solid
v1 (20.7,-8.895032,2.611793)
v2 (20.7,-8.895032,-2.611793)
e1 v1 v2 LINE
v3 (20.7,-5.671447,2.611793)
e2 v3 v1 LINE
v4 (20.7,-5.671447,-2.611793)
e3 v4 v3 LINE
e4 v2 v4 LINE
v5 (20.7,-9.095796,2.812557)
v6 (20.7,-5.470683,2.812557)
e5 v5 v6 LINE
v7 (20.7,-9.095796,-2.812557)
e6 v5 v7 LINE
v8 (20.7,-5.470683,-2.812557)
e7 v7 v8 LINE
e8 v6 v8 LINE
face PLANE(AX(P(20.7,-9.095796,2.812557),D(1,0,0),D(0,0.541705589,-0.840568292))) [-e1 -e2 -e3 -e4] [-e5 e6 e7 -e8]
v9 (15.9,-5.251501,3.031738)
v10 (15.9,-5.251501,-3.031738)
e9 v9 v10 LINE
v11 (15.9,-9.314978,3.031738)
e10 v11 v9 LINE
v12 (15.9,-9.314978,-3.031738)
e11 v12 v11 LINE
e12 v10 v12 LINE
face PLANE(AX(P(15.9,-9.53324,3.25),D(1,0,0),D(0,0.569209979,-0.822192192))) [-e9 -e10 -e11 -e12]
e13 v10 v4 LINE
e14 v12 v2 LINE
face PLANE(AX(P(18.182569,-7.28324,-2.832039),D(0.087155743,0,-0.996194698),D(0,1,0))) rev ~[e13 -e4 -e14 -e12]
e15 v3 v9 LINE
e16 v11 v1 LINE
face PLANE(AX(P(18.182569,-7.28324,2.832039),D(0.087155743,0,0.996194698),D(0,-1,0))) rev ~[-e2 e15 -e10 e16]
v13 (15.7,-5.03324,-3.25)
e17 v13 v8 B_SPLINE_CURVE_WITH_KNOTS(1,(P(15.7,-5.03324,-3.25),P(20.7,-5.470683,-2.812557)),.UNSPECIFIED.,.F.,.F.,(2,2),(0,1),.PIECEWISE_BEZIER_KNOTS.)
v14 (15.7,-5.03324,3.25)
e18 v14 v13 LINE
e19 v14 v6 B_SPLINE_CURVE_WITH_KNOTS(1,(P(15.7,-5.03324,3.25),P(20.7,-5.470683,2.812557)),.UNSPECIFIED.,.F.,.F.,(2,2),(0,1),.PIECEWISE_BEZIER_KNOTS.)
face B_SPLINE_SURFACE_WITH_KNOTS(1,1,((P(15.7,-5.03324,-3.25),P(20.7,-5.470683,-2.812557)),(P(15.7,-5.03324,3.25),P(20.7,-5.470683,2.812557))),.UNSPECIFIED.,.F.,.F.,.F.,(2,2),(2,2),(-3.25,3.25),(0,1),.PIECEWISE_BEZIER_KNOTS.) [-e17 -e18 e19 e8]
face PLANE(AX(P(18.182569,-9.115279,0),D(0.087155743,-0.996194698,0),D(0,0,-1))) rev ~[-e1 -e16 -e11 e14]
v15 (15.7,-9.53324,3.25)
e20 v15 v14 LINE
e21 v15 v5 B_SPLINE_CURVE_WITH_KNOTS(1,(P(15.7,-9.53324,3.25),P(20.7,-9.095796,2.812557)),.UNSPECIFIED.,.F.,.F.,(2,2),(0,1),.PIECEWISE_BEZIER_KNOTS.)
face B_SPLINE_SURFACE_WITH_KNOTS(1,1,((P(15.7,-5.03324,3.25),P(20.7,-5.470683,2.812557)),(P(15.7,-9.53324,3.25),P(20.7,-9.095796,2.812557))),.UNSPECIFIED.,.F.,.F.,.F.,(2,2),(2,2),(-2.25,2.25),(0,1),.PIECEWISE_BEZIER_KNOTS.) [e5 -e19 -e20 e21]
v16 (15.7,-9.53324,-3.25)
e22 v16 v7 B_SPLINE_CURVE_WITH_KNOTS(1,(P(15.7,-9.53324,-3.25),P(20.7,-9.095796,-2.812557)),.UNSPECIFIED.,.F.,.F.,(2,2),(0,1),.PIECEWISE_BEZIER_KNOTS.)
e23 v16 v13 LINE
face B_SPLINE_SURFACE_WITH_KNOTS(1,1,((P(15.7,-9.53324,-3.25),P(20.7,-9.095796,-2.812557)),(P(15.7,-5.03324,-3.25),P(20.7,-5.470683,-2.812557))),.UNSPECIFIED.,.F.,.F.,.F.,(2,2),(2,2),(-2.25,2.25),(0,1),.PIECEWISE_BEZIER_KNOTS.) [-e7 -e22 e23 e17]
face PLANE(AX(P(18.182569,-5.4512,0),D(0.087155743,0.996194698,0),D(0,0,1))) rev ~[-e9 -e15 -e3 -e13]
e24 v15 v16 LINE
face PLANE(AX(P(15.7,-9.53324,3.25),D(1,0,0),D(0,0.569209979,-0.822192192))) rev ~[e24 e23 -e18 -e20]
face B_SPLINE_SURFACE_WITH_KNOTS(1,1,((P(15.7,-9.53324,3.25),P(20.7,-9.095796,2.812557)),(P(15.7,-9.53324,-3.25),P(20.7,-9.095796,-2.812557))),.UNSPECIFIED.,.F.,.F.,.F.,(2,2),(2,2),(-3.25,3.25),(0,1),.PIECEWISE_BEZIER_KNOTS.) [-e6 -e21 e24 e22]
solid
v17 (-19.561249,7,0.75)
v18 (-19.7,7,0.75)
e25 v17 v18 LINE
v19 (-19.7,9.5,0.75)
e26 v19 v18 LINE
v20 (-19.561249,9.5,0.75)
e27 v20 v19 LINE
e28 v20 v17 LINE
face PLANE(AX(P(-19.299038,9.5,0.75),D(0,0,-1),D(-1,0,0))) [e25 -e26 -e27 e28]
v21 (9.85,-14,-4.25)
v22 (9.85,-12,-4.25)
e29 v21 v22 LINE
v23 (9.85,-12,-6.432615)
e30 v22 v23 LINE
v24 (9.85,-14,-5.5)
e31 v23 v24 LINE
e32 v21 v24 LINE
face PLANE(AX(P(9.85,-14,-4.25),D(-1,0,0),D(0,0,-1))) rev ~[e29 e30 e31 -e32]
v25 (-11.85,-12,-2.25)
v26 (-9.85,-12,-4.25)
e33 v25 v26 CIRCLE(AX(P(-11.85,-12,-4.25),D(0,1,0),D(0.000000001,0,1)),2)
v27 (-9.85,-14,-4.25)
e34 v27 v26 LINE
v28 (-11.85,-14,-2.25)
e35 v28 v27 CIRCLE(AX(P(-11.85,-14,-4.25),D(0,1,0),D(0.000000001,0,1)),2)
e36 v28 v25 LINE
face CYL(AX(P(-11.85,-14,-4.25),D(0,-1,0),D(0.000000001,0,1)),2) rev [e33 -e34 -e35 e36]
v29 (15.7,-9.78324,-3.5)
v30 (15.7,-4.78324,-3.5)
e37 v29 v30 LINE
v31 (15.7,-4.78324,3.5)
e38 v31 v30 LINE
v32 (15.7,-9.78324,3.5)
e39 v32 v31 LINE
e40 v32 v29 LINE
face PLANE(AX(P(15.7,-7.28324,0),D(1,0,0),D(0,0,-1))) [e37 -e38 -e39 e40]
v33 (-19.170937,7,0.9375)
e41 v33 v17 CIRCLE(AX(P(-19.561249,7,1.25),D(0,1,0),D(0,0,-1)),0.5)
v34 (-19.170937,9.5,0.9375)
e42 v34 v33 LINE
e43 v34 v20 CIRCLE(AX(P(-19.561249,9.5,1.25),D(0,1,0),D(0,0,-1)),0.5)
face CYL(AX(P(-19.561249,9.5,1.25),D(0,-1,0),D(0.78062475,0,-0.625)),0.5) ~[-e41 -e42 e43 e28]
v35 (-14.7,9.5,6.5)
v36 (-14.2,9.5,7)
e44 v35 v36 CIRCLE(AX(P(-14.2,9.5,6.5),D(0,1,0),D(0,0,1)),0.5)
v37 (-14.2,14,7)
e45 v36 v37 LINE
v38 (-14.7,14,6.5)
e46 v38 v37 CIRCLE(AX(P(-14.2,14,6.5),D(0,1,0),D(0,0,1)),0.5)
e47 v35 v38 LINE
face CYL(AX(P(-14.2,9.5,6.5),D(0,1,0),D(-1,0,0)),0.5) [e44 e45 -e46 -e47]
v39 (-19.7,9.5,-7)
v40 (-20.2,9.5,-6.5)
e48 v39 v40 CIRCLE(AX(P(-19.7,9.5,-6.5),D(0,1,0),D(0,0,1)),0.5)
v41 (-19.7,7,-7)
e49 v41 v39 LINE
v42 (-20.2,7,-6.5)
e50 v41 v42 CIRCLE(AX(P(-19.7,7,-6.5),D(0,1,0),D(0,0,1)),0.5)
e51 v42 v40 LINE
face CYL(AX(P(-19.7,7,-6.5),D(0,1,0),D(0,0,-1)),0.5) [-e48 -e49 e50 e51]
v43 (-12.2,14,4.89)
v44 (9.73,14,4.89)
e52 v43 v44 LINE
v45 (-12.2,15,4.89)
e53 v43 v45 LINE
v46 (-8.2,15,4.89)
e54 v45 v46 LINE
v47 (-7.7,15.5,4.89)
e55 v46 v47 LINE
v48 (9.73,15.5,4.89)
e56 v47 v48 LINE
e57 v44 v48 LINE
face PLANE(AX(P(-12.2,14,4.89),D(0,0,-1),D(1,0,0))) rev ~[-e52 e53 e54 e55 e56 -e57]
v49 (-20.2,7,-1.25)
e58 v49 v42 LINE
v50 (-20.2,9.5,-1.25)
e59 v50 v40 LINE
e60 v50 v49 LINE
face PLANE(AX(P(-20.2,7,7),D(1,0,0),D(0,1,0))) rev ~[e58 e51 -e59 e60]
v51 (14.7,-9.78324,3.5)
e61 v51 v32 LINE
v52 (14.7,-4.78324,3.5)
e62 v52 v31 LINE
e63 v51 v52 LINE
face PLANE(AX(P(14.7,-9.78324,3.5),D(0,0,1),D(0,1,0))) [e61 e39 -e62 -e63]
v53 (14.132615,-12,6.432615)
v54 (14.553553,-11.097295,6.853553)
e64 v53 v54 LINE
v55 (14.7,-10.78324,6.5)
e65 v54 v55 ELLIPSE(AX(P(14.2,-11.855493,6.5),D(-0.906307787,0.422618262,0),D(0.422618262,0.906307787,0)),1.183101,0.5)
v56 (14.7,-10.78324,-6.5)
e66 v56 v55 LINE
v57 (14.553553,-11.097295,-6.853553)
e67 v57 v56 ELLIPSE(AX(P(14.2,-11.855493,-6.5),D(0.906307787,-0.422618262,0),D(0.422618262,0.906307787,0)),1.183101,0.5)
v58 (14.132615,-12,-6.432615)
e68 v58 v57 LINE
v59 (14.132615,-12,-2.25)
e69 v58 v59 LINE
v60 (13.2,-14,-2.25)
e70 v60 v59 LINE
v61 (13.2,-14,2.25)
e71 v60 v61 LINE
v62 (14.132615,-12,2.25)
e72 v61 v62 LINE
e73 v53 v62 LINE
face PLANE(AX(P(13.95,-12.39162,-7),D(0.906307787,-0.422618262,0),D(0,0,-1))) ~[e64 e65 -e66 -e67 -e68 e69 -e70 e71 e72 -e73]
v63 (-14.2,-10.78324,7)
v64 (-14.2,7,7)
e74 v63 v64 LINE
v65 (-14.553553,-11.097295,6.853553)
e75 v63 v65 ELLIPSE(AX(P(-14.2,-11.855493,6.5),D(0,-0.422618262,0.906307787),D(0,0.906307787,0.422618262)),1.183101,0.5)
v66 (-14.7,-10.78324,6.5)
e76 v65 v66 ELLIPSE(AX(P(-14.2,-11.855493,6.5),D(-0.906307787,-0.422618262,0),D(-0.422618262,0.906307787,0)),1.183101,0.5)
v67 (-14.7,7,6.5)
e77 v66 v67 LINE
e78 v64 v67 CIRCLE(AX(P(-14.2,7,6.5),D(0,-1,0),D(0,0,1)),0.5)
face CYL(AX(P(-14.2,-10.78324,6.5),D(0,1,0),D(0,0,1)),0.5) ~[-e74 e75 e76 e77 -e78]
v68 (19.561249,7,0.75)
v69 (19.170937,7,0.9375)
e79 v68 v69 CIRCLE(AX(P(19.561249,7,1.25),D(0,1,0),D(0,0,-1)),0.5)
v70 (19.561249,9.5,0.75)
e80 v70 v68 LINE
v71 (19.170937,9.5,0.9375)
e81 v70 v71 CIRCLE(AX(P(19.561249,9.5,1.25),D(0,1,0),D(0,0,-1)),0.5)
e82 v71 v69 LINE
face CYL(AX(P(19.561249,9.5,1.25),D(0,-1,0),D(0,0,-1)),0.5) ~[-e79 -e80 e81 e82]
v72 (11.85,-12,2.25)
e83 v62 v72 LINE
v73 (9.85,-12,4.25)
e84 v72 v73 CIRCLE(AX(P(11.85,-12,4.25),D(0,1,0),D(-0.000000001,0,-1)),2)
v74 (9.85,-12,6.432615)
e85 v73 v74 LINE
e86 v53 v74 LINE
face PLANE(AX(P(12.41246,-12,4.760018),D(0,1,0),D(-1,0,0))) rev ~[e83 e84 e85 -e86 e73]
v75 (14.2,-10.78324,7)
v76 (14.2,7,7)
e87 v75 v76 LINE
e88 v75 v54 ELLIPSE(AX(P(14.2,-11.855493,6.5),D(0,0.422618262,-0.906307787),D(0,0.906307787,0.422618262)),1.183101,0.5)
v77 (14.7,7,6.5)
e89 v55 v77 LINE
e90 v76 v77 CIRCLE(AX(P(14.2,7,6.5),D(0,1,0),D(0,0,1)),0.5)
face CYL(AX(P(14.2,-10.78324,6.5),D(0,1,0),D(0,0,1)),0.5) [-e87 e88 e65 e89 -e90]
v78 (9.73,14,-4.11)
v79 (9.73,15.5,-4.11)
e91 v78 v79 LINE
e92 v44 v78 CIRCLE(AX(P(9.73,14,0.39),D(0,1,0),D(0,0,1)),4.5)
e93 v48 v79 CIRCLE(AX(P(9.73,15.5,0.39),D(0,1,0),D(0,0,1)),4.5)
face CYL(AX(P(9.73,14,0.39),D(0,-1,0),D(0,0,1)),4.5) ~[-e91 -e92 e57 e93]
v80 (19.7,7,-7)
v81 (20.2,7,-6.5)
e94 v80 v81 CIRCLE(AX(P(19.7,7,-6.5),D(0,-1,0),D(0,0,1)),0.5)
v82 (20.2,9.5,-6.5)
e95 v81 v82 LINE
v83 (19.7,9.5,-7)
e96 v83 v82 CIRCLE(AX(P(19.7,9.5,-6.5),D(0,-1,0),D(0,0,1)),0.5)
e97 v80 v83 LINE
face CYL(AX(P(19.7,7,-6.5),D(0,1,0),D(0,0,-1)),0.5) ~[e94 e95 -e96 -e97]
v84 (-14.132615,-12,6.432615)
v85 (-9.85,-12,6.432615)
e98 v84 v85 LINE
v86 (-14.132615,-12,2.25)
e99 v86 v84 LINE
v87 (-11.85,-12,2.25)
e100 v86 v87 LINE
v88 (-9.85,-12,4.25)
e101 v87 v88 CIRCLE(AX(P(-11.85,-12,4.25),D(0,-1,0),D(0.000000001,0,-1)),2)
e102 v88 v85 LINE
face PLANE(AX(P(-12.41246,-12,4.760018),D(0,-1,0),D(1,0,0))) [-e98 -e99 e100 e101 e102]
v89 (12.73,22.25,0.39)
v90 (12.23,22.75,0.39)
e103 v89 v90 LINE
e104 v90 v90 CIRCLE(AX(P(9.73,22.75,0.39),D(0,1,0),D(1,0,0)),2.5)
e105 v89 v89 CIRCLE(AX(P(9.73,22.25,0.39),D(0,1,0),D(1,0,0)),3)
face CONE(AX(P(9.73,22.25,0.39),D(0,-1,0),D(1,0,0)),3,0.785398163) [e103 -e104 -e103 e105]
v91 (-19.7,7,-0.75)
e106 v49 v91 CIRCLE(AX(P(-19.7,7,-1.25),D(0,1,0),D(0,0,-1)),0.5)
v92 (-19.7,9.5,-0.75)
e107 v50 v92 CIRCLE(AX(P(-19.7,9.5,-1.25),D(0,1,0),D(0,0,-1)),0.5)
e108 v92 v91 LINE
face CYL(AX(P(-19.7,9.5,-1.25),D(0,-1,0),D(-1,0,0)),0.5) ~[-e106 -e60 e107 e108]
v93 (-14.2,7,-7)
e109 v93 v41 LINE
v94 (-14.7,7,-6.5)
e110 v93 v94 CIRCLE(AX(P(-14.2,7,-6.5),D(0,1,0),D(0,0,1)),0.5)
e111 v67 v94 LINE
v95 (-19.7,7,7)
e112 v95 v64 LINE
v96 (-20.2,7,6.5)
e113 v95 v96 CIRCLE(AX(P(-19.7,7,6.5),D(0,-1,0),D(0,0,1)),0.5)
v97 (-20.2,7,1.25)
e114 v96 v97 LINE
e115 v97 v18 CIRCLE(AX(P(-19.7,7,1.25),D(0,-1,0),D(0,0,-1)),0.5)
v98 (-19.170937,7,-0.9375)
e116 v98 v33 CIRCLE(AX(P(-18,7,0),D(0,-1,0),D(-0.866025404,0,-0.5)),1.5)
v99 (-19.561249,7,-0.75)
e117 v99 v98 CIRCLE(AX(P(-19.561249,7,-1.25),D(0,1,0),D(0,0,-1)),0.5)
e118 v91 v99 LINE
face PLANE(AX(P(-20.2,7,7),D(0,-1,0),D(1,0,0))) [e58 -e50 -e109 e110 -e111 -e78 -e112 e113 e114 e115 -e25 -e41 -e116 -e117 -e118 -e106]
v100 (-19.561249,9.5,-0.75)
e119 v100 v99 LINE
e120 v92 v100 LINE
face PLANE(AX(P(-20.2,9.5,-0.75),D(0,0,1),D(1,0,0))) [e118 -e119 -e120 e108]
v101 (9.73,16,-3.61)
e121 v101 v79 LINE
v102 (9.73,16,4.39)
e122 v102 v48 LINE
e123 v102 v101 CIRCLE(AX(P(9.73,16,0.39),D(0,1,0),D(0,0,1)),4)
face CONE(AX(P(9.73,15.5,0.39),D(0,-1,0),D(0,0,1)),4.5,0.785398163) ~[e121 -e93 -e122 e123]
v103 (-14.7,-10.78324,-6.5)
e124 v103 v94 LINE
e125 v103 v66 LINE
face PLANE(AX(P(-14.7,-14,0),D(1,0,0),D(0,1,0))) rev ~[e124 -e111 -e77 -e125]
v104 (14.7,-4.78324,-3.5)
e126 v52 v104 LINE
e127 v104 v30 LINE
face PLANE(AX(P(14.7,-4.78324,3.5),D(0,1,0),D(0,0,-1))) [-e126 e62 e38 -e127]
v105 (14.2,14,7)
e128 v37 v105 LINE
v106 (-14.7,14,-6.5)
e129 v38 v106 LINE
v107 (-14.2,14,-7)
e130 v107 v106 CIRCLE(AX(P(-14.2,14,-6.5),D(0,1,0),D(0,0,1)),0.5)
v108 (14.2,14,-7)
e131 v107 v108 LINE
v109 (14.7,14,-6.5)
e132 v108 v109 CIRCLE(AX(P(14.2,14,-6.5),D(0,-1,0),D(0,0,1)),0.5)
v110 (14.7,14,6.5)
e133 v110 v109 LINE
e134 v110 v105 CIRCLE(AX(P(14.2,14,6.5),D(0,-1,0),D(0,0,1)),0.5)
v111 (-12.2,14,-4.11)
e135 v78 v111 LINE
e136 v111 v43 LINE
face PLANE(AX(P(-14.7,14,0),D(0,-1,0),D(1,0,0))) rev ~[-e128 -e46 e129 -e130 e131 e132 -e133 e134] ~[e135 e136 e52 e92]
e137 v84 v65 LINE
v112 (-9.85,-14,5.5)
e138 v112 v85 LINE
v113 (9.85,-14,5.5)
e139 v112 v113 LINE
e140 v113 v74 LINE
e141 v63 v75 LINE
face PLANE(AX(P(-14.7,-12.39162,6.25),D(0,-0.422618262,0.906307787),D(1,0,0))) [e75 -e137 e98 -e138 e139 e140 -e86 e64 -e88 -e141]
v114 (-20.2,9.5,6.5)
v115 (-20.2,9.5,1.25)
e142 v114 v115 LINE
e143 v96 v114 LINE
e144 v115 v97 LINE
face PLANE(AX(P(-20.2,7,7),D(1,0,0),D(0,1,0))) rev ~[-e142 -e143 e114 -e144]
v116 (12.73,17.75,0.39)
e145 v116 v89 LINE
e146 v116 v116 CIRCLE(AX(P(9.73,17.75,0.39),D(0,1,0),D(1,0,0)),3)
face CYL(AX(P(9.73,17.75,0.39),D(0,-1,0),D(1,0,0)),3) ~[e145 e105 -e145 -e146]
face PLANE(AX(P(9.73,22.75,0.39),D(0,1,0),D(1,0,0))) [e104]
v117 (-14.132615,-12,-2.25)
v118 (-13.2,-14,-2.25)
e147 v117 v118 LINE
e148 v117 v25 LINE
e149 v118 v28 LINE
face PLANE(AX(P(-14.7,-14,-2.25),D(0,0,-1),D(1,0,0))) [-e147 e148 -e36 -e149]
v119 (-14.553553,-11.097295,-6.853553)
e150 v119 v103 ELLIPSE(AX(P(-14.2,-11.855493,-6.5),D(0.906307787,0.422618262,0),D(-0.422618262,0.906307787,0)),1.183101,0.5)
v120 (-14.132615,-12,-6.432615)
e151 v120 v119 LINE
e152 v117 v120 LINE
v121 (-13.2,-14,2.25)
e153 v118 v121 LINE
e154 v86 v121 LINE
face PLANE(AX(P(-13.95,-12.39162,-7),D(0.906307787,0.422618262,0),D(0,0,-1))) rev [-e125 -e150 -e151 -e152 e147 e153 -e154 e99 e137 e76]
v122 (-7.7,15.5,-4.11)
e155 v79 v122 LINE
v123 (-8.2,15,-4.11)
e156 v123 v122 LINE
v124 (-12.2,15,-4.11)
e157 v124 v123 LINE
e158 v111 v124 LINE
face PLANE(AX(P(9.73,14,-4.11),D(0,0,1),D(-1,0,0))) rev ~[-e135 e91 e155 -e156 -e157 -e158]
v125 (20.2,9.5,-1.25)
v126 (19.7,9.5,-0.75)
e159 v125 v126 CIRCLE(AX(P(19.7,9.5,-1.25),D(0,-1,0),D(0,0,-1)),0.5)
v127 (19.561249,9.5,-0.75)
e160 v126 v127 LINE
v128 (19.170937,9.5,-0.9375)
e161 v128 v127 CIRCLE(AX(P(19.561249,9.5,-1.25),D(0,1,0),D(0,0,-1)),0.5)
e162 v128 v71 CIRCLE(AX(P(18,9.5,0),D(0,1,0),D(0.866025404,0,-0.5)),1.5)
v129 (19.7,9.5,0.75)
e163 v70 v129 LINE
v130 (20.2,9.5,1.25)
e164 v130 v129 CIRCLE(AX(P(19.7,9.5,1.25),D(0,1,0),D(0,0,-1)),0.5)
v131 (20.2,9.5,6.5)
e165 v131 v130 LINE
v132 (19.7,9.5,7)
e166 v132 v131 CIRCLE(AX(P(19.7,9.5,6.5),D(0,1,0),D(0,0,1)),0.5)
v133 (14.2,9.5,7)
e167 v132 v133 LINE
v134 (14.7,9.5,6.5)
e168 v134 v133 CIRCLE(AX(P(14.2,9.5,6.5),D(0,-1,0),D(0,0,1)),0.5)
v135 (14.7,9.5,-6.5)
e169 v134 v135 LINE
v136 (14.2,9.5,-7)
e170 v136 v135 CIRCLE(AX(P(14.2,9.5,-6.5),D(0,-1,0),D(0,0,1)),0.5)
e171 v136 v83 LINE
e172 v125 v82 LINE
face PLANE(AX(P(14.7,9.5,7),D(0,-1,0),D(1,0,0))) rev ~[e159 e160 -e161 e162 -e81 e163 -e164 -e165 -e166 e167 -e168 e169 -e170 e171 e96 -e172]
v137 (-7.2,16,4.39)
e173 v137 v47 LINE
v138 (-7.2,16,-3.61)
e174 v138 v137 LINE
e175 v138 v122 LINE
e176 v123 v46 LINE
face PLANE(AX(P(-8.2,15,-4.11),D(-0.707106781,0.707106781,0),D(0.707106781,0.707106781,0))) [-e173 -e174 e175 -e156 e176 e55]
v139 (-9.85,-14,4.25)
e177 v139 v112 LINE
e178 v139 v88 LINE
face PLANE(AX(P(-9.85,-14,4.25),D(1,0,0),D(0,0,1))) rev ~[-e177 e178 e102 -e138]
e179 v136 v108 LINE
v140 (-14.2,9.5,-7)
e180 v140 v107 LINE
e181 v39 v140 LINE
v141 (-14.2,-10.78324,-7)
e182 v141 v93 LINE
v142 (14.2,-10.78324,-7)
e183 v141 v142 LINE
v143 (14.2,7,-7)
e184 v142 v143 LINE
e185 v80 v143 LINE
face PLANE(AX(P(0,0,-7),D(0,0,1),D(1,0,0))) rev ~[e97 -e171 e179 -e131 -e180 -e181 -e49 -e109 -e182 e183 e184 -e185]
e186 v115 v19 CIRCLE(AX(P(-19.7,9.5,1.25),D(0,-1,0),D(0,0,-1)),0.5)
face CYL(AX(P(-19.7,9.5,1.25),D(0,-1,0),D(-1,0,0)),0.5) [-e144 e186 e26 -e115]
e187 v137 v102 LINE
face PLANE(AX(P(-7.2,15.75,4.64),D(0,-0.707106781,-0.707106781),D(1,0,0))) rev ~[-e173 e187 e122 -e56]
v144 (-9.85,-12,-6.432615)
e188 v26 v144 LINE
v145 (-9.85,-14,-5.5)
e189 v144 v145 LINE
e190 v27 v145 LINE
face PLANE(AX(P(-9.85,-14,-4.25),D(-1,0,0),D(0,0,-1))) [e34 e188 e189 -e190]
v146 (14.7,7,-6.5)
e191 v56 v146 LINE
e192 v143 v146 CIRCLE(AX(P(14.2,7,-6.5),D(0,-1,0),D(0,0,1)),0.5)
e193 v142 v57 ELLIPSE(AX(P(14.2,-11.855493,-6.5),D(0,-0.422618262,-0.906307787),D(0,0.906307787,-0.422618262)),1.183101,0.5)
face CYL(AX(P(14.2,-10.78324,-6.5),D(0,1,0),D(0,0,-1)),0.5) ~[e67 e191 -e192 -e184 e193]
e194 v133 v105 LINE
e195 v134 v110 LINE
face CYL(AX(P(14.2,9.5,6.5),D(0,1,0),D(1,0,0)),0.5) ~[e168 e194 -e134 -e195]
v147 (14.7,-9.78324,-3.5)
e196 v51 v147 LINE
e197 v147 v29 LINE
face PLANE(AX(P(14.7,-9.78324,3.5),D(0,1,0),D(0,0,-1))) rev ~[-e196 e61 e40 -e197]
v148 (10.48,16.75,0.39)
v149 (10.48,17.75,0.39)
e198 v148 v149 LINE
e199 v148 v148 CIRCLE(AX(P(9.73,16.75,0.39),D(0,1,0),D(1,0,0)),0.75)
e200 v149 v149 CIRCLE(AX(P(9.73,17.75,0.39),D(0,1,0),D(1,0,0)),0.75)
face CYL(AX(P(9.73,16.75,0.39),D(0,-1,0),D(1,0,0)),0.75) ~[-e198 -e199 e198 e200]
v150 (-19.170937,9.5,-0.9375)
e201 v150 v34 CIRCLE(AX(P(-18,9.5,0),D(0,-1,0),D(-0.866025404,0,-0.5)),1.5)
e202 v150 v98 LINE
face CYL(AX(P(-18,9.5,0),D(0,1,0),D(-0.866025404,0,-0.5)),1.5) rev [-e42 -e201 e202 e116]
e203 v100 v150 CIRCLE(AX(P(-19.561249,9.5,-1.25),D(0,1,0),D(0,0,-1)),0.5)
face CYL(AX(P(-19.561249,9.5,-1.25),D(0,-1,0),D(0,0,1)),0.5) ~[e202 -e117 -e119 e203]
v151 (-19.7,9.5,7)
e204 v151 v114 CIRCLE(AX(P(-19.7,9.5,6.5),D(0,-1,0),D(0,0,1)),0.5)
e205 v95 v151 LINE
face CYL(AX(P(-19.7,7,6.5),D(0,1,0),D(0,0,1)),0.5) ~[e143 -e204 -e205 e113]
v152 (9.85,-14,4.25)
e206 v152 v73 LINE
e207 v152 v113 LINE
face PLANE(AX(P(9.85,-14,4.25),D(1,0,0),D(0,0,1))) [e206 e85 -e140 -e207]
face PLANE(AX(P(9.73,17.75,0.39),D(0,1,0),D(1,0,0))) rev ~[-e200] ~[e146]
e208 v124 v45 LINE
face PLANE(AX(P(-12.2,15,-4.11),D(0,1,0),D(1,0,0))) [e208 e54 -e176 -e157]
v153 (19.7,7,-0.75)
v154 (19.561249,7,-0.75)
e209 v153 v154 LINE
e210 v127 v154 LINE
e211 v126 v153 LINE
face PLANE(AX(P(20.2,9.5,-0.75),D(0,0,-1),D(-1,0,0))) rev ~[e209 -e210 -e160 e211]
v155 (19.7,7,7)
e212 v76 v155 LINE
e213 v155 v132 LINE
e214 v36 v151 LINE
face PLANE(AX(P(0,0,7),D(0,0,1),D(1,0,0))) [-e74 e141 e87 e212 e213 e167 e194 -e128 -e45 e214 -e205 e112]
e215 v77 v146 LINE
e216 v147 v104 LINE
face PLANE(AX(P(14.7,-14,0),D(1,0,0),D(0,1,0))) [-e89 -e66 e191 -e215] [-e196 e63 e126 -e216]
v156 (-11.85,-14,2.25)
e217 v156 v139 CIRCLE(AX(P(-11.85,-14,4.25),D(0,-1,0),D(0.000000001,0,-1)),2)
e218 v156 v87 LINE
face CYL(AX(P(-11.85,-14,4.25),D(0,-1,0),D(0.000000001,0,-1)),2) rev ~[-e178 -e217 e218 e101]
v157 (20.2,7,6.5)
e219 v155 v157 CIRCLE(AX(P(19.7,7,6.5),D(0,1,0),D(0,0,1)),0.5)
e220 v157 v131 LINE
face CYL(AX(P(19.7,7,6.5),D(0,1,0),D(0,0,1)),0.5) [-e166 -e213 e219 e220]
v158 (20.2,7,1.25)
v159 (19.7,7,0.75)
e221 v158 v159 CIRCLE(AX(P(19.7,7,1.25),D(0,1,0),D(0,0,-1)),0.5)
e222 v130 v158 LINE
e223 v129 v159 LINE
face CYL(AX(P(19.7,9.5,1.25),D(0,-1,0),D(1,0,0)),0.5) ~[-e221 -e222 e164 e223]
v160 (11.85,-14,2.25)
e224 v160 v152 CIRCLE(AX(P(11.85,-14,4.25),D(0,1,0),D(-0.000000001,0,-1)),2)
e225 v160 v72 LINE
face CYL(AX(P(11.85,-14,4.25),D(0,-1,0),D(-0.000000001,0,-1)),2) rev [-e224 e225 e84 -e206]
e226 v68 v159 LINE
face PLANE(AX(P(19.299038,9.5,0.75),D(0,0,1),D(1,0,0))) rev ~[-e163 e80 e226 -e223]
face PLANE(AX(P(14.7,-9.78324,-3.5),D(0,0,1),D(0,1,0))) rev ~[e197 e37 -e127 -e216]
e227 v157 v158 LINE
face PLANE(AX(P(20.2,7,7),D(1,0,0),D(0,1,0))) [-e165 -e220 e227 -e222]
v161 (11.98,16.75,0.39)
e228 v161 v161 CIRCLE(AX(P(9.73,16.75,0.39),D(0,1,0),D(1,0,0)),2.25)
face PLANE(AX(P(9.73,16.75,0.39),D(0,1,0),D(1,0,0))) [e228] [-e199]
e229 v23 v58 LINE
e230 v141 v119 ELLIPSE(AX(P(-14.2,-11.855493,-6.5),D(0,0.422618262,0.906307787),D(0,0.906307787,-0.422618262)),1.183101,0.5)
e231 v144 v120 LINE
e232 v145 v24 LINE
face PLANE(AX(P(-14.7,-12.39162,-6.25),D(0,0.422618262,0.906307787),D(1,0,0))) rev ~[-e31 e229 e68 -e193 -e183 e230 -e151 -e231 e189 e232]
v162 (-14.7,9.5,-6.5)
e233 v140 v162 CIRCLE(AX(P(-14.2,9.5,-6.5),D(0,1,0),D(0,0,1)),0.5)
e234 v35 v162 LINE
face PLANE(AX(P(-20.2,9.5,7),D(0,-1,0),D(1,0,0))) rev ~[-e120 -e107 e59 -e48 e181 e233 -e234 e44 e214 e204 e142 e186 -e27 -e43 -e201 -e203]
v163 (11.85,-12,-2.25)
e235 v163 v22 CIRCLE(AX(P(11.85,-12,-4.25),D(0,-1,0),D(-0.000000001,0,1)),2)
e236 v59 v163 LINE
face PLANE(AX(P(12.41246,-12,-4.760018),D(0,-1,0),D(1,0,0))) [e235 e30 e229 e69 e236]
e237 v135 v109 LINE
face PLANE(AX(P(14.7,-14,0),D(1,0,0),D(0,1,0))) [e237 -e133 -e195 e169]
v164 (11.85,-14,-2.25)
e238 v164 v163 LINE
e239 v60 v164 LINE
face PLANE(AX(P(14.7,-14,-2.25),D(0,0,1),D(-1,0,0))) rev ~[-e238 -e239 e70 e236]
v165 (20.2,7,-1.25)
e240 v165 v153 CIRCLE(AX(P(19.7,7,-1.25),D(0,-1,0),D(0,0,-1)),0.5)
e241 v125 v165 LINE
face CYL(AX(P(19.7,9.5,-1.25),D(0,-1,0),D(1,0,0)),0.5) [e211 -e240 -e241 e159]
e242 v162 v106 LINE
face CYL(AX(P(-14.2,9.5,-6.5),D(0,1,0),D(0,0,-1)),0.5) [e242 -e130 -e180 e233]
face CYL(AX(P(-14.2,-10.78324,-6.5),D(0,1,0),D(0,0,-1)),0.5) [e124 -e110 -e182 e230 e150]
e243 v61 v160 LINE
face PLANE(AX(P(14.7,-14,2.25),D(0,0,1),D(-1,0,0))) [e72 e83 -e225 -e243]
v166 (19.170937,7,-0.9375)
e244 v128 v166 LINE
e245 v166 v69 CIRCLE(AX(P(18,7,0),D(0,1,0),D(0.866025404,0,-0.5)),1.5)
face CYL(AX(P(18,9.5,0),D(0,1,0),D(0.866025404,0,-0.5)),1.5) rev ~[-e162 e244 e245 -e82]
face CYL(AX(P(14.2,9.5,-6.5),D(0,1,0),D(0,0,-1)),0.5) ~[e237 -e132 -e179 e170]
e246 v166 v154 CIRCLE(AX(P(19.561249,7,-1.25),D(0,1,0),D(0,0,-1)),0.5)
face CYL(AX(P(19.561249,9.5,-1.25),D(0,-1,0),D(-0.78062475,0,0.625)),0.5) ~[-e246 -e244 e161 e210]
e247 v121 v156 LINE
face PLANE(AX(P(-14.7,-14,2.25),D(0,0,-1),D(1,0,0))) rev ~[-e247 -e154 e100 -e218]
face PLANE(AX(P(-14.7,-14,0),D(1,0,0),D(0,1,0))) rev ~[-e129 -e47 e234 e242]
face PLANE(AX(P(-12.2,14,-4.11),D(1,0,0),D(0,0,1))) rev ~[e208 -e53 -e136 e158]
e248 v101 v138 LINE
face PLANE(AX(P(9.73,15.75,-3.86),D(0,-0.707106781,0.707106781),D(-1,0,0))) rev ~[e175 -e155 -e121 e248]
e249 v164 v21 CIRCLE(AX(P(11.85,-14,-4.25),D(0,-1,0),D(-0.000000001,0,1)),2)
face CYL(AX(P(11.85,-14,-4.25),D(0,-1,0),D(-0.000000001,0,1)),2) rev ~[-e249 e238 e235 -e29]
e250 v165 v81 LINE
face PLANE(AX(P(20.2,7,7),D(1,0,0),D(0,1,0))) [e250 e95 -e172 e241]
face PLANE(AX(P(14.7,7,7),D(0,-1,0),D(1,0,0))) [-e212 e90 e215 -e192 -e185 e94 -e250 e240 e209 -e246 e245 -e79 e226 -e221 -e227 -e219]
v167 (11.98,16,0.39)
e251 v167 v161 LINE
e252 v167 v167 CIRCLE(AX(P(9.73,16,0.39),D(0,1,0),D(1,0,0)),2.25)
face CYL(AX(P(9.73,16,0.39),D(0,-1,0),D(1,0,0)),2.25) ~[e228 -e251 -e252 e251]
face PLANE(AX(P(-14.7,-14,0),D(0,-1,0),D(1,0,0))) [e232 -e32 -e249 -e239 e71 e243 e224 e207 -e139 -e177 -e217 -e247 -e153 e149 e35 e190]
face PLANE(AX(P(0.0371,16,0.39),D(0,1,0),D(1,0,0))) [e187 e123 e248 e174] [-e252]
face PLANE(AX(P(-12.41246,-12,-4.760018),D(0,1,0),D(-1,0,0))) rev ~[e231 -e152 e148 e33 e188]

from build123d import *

# Parameters (mm, degrees)
CROQUIS1_W              = 29.4
CROQUIS1_H              = 28
SALIENTE_EXTRUIR1_DEPTH = 7
CROQUIS2_W              = 5.5
CROQUIS2_H              = 2.5
SALIENTE_EXTRUIR2_DEPTH = 14
CORTAR_EXTRUIR1_DEPTH   = 2.5
CHAFL_N1_SIZE           = 1.5
CHAFL_N1_SIZE2          = 3.216760381
CORTAR_EXTRUIR2_DEPTH   = 2
SALIENTE_EXTRUIR4_DEPTH = 2
CORTAR_EXTRUIR3_START   = -9
CORTAR_EXTRUIR3_DEPTH   = 9
CROQUIS10_R             = 2.25
SALIENTE_EXTRUIR5_DEPTH = 0.75
CROQUIS11_R             = 0.75
SALIENTE_EXTRUIR6_DEPTH = 1
CROQUIS12_R             = 3
SALIENTE_EXTRUIR7_DEPTH = 5
CROQUIS14_W             = 7
CROQUIS14_H             = 5
SALIENTE_EXTRUIR8_DEPTH = 1
CROQUIS15_W             = 6.5
CROQUIS15_H             = 4.5
SALIENTE_EXTRUIR9_DEPTH = 5
SALIENTE_EXTRUIR9_TAPER = 5
VACIADO2_T              = -0.2
CHAFL_N2_SIZE           = 0.5
FILLET1_R               = 0.5


with BuildPart() as part:
    # Croquis1 → Saliente-Extruir1 (new body, symmetric)
    with BuildSketch(Plane.XY):
        Rectangle(CROQUIS1_W, CROQUIS1_H)
    extrude(amount=SALIENTE_EXTRUIR1_DEPTH, both=True)

    # Croquis2 → Saliente-Extruir2 (add)
    with BuildSketch(Plane.XY.offset(7)):
        with Locations((-17.45, 8.25)):
            Rectangle(CROQUIS2_W, CROQUIS2_H)
        with Locations((17.45, 8.25)):
            Rectangle(CROQUIS2_W, CROQUIS2_H)
    extrude(amount=-SALIENTE_EXTRUIR2_DEPTH)

    # Croquis4 → Cortar-Extruir1 (cut)
    with BuildSketch(Plane(origin=(0, 9.5, 0), x_dir=(1, 0, 0), z_dir=(0, 1, 0))):
        with BuildLine():
            Line((-20.2, 0.75), (-19.299038106, 0.75))
            ThreePointArc((-19.299038106, 0.75), (-16.5, 0), (-19.299038106, -0.75))
            Line((-19.299038106, -0.75), (-20.2, -0.75))
            Line((-20.2, -0.75), (-20.2, 0.75))
        make_face()
        with BuildLine():
            Line((20.2, -0.75), (20.2, 0.75))
            Line((20.2, 0.75), (19.299038106, 0.75))
            ThreePointArc((19.299038106, 0.75), (16.5, 0), (19.299038106, -0.75))
            Line((19.299038106, -0.75), (20.2, -0.75))
        make_face()
    extrude(amount=-CORTAR_EXTRUIR1_DEPTH, mode=Mode.SUBTRACT)

    # Chaflán1
    chafl_n1_edges = [part.edges().sort_by_distance(p)[0] for p in [
        (0, -14, -7),
        (0, -14, 7),
        (-14.7, -14, 0),
        (14.7, -14, 0),
    ]]
    chafl_n1_side = [part.faces().sort_by_distance(p)[0] for p in [
        (0, -14, 0),
    ]]
    chamfer(chafl_n1_edges, length=CHAFL_N1_SIZE, length2=CHAFL_N1_SIZE2, reference=chafl_n1_side[0])

    # Croquis5 → Cortar-Extruir2 (cut)
    with BuildSketch(Plane.XZ.offset(14)):
        with BuildLine():
            Line((-14.7, 2.25), (-11.85, 2.25))
            ThreePointArc((-11.85, 2.25), (-10.435786438, 2.835786438), (-9.85, 4.25))
            Line((-9.85, 4.25), (-9.85, 7))
            Line((-9.85, 7), (-14.7, 7))
            Line((-14.7, 7), (-14.7, 2.25))
        make_face()
        with BuildLine():
            Line((-14.7, -7), (-14.7, -2.25))
            Line((-14.7, -2.25), (-11.85, -2.25))
            ThreePointArc((-11.85, -2.25), (-10.435786438, -2.835786438), (-9.85, -4.25))
            Line((-9.85, -4.25), (-9.85, -7))
            Line((-9.85, -7), (-14.7, -7))
        make_face()
        with BuildLine():
            Line((14.7, -2.25), (11.85, -2.25))
            ThreePointArc((11.85, -2.25), (10.435786438, -2.835786438), (9.85, -4.25))
            Line((9.85, -4.25), (9.85, -7))
            Line((9.85, -7), (14.7, -7))
            Line((14.7, -7), (14.7, -2.25))
        make_face()
        with BuildLine():
            Line((14.7, 7), (14.7, 2.25))
            Line((14.7, 2.25), (11.85, 2.25))
            ThreePointArc((11.85, 2.25), (10.435786438, 2.835786438), (9.85, 4.25))
            Line((9.85, 4.25), (9.85, 7))
            Line((9.85, 7), (14.7, 7))
        make_face()
    extrude(amount=-CORTAR_EXTRUIR2_DEPTH, mode=Mode.SUBTRACT)

    # Croquis6 → Saliente-Extruir4 (add)
    with BuildSketch(Plane(origin=(0, 14, 0), x_dir=(1, 0, 0), z_dir=(0, 1, 0))):
        with BuildLine():
            Line((9.73, 4.11), (-12.2, 4.11))
            Line((-12.2, 4.11), (-12.2, -4.89))
            Line((-12.2, -4.89), (9.73, -4.89))
            ThreePointArc((9.73, -4.89), (14.23, -0.39), (9.73, 4.11))
        make_face()
    extrude(amount=SALIENTE_EXTRUIR4_DEPTH)

    # Croquis9 → Cortar-Extruir3 (cut)
    with BuildSketch(Plane.XY.offset(4.89).offset(CORTAR_EXTRUIR3_START)):
        Polygon((-12.2, 16), (-12.2, 15), (-8.2, 15), (-7.2, 16), align=None)
    extrude(amount=CORTAR_EXTRUIR3_DEPTH, mode=Mode.SUBTRACT)

    # Croquis10 → Saliente-Extruir5 (add)
    with BuildSketch(Plane(origin=(0, 16, 0), x_dir=(1, 0, 0), z_dir=(0, 1, 0))):
        with Locations((9.73, -0.39)):
            Circle(CROQUIS10_R)
    extrude(amount=SALIENTE_EXTRUIR5_DEPTH)

    # Croquis11 → Saliente-Extruir6 (add)
    with BuildSketch(Plane(origin=(0, 16.75, 0), x_dir=(1, 0, 0), z_dir=(0, 1, 0))):
        with Locations((9.73, -0.39)):
            Circle(CROQUIS11_R)
    extrude(amount=SALIENTE_EXTRUIR6_DEPTH)

    # Croquis12 → Saliente-Extruir7 (add)
    with BuildSketch(Plane(origin=(0, 17.75, 0), x_dir=(1, 0, 0), z_dir=(0, 1, 0))):
        with Locations((9.73, -0.39)):
            Circle(CROQUIS12_R)
    extrude(amount=SALIENTE_EXTRUIR7_DEPTH)

    # Croquis14 → Saliente-Extruir8 (add)
    with BuildSketch(Plane(origin=(14.7, 0, 0), x_dir=(0, 0, -1), z_dir=(1, 0, 0))):
        with Locations((0, -7.283239619)):
            Rectangle(CROQUIS14_W, CROQUIS14_H)
    extrude(amount=SALIENTE_EXTRUIR8_DEPTH)

    # Chaflán2
    chafl_n2_edges = [part.edges().sort_by_distance(p)[0] for p in [
        (14.23, 16, 0.39),
        (1.265, 16, -4.11),
        (1.265, 16, 4.89),
        (6.73, 22.75, 0.39),
    ]]
    chamfer(chafl_n2_edges, length=CHAFL_N2_SIZE)

    # Fillet1
    fillet1_edges = [part.edges().sort_by_distance(p)[0] for p in [
        (14.7, 11.75, -7),
        (14.7, 11.75, 7),
        (14.7, -1.89161981, 7),
        (14.7, -1.89161981, -7),
        (20.2, 8.25, -7),
        (19.299038106, 8.25, 0.75),
        (19.299038106, 8.25, -0.75),
        (20.2, 8.25, -0.75),
        (20.2, 8.25, 0.75),
        (20.2, 8.25, 7),
        (-19.299038106, 8.25, -0.75),
        (-20.2, 8.25, 7),
        (-14.7, 11.75, -7),
        (-14.7, 11.75, 7),
        (-14.7, -1.89161981, 7),
        (-19.299038106, 8.25, 0.75),
        (-20.2, 8.25, 0.75),
        (-20.2, 8.25, -0.75),
        (-20.2, 8.25, -7),
        (-14.7, -1.89161981, -7),
    ]]
    fillet(fillet1_edges, radius=FILLET1_R)


with BuildPart() as body_2:
    # Croquis15 → Saliente-Extruir9 (new body)
    with BuildSketch(Plane(origin=(15.7, 0, 0), x_dir=(0, 0, -1), z_dir=(1, 0, 0))):
        with Locations((0, -7.283239619)):
            Rectangle(CROQUIS15_W, CROQUIS15_H)
    extrude(amount=SALIENTE_EXTRUIR9_DEPTH, taper=SALIENTE_EXTRUIR9_TAPER)

    # Vaciado2
    vaciado2_openings = [body_2.faces().sort_by_distance(p)[0] for p in [
        (20.7, -7.283239619, 0),
    ]]
    offset(amount=VACIADO2_T, openings=vaciado2_openings, kind=Kind.INTERSECTION)


solid = Compound([part.part, body_2.part])
